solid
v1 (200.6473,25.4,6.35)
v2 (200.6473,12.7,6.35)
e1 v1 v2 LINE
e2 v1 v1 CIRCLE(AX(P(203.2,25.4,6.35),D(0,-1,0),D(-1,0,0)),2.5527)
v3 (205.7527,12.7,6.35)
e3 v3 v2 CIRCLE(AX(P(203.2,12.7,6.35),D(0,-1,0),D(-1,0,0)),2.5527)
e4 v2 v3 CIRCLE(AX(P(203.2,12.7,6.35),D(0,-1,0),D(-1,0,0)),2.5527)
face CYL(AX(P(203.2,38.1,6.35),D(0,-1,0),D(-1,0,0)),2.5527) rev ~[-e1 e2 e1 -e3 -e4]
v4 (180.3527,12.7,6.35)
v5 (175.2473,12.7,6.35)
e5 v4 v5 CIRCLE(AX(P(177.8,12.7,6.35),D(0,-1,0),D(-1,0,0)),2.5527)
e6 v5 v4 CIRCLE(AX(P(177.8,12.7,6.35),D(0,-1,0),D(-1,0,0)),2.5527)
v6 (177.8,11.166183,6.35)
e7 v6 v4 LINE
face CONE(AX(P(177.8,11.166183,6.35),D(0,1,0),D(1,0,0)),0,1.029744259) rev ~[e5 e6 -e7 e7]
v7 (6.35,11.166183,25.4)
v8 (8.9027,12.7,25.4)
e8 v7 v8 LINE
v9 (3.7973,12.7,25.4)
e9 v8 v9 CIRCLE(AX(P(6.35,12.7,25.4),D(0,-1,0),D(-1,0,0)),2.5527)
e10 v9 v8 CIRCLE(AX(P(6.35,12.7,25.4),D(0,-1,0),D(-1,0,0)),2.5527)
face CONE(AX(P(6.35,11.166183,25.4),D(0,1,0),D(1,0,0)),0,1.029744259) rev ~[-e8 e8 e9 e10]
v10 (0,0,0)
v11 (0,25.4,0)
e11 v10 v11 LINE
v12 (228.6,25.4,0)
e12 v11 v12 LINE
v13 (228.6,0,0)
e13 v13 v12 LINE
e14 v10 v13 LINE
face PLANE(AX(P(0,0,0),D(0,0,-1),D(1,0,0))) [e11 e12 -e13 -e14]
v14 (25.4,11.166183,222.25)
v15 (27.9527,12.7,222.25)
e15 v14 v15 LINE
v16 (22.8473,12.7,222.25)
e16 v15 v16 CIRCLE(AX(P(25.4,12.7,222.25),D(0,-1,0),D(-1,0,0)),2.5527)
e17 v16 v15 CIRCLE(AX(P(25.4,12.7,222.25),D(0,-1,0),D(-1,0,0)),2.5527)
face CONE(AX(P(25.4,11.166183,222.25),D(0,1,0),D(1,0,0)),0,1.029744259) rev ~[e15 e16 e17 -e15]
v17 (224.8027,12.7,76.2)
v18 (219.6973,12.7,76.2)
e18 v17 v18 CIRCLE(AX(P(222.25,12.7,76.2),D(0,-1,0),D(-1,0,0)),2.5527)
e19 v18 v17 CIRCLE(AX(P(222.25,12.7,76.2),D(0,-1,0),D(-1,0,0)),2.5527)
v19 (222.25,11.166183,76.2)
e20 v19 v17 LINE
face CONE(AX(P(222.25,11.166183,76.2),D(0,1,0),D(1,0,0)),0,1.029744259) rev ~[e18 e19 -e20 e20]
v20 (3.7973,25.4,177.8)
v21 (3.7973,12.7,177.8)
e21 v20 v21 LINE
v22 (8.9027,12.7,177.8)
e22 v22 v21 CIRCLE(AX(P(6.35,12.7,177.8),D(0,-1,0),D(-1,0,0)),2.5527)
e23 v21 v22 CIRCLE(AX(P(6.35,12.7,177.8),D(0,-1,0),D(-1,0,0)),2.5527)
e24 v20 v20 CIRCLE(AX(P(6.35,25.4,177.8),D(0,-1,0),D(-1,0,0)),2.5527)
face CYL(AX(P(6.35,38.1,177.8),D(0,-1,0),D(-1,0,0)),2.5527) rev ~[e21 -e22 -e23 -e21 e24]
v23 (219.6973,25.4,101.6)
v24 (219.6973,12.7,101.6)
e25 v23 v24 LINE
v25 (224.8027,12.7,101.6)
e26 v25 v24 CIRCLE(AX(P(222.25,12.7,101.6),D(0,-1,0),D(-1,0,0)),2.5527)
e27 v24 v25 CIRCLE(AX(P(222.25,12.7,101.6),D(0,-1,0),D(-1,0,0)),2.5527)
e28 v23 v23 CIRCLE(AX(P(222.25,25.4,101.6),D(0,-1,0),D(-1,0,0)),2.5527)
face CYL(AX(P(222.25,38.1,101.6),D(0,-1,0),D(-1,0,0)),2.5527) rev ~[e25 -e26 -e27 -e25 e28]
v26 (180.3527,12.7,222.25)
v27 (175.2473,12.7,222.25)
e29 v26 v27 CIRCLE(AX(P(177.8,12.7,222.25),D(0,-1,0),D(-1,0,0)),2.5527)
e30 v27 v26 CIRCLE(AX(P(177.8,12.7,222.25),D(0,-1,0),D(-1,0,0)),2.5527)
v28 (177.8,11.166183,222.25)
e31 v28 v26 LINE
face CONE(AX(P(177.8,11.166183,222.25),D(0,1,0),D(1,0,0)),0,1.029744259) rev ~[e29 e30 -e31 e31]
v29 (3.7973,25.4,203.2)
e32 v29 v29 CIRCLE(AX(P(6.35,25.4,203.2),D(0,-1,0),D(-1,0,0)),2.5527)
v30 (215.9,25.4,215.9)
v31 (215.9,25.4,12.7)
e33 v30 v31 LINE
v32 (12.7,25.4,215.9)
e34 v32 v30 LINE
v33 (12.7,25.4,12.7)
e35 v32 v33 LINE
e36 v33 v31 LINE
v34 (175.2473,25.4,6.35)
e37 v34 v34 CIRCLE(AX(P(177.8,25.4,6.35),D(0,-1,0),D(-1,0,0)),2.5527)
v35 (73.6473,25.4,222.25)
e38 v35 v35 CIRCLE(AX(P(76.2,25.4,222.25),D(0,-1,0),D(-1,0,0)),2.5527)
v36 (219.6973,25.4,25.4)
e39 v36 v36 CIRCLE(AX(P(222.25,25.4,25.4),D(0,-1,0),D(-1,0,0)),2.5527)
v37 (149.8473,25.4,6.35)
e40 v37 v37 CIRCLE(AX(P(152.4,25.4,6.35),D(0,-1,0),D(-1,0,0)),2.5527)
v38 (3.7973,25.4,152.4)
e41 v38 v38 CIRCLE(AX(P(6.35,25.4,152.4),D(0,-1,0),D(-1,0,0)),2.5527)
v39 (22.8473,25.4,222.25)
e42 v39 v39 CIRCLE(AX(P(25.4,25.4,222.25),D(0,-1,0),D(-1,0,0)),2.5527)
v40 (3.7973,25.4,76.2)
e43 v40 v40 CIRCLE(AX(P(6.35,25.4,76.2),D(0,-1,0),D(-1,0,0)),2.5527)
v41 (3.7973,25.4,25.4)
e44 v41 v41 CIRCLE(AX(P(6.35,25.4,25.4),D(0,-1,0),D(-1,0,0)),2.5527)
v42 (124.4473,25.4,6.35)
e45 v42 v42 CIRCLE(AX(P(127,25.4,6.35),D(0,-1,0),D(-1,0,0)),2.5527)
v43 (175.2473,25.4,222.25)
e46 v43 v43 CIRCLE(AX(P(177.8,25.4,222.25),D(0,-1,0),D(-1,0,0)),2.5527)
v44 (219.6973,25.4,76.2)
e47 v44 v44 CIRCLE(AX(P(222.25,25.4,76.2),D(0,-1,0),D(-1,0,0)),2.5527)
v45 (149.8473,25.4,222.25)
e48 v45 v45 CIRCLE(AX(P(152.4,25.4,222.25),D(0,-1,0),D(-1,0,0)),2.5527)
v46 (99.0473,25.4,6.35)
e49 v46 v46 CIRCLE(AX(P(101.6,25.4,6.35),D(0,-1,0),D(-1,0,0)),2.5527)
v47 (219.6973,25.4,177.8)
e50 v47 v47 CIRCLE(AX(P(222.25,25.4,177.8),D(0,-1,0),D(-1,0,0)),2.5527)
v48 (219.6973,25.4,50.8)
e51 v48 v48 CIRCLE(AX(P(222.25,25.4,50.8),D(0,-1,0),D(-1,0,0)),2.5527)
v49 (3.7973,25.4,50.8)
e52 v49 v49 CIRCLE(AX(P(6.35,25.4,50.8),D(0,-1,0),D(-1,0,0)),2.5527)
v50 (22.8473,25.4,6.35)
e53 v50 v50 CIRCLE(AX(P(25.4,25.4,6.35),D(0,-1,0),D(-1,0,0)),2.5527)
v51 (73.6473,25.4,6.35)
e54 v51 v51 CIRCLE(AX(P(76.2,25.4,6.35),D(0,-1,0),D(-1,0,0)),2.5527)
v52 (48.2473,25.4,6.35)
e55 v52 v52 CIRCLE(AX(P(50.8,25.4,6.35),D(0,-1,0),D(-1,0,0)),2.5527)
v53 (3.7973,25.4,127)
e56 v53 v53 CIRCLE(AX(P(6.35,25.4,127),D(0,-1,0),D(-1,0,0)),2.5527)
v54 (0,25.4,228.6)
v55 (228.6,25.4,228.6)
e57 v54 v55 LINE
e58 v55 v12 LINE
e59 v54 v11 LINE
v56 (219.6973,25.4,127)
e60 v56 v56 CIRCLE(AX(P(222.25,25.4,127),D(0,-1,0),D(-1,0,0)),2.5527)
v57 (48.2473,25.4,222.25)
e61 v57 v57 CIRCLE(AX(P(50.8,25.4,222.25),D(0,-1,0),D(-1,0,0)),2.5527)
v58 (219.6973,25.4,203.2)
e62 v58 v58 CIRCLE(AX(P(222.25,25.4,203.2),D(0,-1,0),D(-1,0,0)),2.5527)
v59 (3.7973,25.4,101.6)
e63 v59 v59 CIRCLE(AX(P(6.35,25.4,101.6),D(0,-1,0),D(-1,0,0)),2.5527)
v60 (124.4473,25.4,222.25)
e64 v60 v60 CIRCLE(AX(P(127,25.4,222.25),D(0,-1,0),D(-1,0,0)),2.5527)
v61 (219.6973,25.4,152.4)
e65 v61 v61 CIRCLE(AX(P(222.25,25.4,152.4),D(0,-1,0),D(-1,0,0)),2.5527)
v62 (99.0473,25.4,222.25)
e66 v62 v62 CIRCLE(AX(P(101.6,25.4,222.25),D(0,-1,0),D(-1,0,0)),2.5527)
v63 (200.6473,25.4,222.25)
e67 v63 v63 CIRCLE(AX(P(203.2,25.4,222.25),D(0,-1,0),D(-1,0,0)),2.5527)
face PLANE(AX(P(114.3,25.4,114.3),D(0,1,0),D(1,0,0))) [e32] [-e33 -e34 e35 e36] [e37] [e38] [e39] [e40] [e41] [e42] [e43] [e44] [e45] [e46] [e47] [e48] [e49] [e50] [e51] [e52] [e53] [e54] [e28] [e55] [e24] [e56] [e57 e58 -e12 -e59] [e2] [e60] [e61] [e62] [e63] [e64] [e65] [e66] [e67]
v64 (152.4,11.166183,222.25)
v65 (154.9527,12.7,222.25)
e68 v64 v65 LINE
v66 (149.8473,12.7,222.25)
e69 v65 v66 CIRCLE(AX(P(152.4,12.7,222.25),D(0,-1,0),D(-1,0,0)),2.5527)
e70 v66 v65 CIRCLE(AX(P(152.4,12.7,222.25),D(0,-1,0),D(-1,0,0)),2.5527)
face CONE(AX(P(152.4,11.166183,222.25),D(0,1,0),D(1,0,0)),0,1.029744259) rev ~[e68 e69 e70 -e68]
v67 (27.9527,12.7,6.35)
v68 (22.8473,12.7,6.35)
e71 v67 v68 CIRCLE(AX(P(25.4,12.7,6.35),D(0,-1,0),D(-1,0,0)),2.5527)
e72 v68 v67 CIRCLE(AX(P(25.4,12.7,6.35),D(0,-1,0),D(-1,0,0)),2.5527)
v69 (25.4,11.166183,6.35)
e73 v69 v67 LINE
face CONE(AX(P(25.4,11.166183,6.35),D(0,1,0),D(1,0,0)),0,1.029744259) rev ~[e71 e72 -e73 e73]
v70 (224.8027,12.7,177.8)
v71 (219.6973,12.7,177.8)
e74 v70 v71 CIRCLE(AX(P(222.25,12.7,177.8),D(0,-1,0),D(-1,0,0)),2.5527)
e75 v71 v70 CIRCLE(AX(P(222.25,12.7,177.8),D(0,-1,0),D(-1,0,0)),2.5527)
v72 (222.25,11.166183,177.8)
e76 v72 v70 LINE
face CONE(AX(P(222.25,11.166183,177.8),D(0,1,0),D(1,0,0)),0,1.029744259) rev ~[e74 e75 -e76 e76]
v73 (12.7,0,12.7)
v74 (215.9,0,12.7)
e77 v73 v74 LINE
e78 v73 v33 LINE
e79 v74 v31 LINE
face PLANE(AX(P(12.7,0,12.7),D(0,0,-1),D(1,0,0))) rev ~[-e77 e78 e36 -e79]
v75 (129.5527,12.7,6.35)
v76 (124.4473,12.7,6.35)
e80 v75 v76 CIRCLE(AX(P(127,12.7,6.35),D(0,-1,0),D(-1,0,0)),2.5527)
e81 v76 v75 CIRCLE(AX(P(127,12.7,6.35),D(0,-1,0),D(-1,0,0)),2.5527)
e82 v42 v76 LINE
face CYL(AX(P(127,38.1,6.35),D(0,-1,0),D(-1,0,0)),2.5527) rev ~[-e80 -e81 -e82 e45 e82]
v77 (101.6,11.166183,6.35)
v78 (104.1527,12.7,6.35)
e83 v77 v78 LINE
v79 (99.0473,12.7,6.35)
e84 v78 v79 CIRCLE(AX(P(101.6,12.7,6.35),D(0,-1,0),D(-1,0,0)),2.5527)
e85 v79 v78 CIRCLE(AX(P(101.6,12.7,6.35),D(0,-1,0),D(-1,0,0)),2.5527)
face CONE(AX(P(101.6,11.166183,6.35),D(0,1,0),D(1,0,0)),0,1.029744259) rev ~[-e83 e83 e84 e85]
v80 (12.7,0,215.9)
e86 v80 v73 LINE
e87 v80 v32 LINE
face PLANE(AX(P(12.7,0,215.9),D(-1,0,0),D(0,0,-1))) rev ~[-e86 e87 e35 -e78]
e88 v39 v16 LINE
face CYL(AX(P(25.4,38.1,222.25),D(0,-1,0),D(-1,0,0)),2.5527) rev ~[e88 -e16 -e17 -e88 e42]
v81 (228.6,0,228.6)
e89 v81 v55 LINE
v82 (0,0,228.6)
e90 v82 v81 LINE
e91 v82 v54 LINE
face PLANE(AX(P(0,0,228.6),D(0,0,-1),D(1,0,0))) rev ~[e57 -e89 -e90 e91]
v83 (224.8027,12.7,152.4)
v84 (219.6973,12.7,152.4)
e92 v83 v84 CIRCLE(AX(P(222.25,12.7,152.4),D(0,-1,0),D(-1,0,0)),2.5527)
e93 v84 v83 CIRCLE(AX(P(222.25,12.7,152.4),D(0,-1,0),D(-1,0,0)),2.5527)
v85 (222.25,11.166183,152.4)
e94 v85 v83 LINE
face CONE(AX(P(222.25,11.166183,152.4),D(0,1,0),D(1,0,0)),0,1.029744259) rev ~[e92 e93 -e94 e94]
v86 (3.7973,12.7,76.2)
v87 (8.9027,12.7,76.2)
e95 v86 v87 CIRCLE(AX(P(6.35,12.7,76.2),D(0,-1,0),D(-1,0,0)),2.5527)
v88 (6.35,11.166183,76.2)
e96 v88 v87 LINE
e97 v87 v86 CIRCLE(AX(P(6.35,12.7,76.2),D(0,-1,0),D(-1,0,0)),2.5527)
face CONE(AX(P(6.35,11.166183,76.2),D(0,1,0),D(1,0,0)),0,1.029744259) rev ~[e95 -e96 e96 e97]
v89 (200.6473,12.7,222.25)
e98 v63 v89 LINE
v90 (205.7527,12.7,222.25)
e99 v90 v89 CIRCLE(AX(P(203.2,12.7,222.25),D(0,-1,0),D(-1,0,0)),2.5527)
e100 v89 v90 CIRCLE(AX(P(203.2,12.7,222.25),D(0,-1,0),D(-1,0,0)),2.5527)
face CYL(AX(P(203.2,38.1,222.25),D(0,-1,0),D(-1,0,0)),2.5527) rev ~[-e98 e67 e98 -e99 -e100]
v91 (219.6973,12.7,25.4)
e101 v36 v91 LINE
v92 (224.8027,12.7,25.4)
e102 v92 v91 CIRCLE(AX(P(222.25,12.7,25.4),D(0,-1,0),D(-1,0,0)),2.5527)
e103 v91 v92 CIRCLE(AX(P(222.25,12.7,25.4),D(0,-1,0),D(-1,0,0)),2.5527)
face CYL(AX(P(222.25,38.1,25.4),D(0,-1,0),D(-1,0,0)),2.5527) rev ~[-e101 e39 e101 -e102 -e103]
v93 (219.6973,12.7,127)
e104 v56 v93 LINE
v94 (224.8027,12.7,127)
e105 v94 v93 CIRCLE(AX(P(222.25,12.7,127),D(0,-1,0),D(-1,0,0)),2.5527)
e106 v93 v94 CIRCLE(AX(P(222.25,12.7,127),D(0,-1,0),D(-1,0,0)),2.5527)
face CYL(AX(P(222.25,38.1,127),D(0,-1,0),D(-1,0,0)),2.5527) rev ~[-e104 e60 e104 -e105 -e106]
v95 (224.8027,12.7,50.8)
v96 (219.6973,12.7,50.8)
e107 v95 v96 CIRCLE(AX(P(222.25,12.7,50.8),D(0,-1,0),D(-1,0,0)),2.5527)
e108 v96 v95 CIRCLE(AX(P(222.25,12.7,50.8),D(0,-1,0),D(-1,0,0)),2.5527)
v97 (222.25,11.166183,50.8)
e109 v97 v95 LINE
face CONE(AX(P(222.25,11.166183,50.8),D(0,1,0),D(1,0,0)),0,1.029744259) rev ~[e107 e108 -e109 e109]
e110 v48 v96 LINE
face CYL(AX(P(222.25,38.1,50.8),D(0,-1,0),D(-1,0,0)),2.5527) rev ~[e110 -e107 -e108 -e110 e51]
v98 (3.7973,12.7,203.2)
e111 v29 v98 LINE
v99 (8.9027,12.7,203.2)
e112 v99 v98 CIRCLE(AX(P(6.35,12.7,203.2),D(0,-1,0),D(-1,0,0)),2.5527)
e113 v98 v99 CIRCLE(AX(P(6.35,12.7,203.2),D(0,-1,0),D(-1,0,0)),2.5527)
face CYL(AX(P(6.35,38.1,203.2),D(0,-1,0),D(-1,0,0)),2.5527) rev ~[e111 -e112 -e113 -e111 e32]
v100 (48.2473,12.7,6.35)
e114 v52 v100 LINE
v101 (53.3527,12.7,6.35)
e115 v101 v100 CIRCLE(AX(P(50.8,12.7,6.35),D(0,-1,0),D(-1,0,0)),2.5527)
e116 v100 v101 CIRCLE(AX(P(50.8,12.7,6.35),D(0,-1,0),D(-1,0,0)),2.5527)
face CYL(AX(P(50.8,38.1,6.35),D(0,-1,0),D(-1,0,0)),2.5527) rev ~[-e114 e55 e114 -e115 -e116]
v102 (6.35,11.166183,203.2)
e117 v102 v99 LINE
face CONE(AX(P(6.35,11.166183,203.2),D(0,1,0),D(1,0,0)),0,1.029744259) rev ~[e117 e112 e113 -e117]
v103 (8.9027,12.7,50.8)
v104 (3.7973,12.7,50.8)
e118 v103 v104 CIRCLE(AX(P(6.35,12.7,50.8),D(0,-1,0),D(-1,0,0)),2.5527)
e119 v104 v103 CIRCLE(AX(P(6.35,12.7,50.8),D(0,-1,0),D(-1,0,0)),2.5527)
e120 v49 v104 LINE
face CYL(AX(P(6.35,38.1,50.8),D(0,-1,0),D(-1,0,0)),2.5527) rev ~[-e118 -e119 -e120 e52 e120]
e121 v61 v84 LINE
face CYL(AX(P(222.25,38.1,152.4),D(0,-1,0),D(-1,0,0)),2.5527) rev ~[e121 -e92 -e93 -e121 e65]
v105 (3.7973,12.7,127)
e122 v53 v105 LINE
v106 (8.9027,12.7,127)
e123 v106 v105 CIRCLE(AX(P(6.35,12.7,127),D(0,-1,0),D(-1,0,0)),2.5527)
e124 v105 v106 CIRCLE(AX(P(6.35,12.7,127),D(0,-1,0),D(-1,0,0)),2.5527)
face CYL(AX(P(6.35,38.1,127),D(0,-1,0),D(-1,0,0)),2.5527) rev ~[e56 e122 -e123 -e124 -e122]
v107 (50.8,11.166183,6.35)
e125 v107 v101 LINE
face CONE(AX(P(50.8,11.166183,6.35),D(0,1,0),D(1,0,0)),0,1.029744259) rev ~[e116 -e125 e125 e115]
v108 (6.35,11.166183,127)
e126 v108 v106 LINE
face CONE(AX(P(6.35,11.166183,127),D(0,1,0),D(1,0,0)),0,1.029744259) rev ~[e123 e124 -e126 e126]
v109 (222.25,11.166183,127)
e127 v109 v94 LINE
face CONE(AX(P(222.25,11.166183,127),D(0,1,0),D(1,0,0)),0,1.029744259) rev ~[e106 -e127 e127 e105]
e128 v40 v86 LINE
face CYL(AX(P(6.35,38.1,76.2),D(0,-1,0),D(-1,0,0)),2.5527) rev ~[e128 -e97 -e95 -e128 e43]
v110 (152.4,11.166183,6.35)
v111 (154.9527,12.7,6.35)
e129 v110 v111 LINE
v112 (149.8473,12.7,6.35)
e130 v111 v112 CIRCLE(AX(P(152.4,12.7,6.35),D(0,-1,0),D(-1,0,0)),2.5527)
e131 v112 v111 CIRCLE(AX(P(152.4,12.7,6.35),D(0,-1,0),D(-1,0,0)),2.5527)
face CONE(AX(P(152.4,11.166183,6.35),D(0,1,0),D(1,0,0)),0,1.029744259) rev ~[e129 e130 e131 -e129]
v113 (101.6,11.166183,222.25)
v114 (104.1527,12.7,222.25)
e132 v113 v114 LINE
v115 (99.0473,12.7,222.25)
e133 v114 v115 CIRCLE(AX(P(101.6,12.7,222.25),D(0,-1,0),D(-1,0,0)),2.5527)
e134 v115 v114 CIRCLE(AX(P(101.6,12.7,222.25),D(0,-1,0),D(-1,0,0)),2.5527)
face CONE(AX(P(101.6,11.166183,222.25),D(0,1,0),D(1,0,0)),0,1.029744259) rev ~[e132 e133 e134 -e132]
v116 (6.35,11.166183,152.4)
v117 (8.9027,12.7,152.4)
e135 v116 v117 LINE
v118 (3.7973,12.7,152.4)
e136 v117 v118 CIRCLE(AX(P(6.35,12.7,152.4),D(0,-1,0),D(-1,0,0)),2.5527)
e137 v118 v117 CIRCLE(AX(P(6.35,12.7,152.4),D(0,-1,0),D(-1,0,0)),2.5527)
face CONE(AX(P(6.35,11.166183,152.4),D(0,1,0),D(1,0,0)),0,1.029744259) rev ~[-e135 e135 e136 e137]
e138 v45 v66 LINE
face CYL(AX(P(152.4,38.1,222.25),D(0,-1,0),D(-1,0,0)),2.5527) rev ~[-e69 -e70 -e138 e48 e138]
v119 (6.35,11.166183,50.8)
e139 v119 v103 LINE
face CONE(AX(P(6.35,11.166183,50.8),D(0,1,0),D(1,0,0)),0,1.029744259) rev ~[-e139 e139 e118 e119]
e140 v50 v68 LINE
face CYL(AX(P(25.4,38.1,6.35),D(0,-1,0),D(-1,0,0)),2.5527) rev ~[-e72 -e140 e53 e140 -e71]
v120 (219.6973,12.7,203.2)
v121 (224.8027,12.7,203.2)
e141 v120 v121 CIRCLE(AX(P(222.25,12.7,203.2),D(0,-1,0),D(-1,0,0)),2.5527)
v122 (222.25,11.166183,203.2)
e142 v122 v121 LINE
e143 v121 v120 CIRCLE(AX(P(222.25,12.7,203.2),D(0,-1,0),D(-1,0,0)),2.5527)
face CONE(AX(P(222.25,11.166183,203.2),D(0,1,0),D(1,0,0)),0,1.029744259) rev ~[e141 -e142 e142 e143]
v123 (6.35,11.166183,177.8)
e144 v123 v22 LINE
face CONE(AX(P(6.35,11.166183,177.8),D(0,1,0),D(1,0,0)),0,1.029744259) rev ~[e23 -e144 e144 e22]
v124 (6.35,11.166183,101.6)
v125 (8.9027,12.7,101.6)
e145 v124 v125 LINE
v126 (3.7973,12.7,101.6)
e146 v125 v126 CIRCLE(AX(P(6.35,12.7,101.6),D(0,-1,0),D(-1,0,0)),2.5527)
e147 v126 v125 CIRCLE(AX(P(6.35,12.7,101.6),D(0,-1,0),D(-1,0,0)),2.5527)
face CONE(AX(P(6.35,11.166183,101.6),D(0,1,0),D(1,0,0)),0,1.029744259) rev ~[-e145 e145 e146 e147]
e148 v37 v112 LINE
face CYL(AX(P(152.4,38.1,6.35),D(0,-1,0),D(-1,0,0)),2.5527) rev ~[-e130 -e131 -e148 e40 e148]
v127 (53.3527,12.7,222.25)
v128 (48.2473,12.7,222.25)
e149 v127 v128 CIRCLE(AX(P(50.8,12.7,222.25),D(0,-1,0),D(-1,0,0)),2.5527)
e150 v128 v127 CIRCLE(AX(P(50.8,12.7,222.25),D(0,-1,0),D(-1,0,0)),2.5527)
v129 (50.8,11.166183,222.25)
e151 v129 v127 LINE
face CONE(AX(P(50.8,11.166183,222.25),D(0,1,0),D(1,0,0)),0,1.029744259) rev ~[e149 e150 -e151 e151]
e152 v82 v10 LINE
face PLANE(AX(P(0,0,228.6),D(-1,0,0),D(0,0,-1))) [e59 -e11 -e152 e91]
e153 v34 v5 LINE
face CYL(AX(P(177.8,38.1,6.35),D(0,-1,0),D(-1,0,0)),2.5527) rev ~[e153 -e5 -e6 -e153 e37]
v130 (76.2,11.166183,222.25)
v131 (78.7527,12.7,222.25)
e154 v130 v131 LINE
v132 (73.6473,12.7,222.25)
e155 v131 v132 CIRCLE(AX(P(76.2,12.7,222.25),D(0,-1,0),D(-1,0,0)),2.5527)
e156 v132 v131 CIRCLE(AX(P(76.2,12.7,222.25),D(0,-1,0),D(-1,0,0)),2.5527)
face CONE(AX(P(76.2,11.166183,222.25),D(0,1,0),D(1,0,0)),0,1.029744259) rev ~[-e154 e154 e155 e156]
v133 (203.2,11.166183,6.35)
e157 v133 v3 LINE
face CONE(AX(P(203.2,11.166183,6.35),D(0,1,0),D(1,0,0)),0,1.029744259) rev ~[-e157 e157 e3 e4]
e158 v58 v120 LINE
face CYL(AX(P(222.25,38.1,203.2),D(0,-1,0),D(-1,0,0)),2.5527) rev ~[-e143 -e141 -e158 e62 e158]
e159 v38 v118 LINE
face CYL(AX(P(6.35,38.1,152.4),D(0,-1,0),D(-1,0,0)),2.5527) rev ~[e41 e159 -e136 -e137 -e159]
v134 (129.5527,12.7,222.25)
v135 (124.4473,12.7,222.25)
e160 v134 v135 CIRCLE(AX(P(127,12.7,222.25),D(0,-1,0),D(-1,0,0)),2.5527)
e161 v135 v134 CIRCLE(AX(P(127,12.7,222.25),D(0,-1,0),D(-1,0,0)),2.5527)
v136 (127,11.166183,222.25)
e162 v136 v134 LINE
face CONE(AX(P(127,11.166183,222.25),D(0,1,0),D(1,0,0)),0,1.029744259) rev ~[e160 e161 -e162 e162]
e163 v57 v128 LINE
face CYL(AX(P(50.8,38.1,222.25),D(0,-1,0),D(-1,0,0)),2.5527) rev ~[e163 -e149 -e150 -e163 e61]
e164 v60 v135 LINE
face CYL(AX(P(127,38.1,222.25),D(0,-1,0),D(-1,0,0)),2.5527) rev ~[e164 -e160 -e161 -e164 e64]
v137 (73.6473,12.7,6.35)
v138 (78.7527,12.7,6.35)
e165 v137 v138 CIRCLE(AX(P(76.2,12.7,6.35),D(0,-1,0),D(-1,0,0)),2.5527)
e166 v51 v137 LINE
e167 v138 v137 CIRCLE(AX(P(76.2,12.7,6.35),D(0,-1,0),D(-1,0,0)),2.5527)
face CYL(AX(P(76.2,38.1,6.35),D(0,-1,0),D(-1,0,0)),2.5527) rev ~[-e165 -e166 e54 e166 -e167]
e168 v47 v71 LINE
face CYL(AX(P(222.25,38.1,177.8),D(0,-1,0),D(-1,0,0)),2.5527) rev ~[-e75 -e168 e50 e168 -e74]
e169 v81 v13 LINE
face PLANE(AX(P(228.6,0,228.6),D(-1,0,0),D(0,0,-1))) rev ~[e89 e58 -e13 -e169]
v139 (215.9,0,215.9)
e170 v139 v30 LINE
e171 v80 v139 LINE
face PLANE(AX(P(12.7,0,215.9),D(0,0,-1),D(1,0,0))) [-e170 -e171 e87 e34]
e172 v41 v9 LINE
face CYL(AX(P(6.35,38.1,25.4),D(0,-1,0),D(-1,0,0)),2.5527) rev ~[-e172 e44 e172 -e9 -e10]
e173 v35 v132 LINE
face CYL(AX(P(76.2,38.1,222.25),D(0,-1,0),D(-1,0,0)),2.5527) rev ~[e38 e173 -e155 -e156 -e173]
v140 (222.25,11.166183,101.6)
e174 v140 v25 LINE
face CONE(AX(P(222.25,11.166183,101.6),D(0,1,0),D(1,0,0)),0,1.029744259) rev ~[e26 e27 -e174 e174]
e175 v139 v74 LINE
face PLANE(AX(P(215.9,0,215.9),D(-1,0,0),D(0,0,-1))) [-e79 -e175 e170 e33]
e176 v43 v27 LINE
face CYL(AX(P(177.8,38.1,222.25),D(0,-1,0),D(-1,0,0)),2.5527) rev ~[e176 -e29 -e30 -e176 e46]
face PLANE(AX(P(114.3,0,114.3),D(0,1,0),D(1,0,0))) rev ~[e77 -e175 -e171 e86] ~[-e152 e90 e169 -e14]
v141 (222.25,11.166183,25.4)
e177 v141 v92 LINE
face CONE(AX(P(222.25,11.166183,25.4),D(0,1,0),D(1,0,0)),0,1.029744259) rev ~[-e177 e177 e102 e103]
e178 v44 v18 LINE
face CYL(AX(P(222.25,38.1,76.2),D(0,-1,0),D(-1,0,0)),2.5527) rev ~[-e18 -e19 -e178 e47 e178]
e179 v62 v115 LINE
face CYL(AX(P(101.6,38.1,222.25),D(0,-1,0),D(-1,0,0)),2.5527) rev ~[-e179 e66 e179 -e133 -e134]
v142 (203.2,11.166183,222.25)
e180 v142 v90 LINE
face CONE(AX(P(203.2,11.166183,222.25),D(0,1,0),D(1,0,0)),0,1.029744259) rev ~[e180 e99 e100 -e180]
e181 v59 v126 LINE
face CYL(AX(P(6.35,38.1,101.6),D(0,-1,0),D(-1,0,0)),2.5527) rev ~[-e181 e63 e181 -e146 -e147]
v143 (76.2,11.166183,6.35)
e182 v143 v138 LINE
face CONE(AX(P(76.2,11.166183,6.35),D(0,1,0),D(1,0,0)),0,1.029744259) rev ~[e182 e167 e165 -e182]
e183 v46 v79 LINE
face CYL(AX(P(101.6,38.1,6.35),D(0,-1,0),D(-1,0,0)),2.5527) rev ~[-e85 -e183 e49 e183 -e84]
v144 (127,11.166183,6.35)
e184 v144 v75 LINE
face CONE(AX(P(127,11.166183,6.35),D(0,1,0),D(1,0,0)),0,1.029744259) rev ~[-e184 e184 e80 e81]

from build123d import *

# Parameters (mm, degrees)
SKETCH1_W                       = 228.6
SKETCH1_H                       = 228.6
SKETCH1_W_2                     = 203.2
SKETCH1_H_2                     = 203.2
BOSS_EXTRUDE1_DEPTH             = 25.4
TAP_DRILL_FOR_1_4_20_TAP1_D     = 5.1054
TAP_DRILL_FOR_1_4_20_TAP1_DEPTH = 12.7
TAP_DRILL_FOR_1_4_20_TAP1_TIP   = 1.533816902


with BuildPart() as part:
    # Sketch1 → Boss-Extrude1 (new body)
    with BuildSketch(Plane(origin=(0, 0, 0), x_dir=(1, 0, 0), z_dir=(0, 1, 0))):
        with Locations((114.3, -114.3)):
            Rectangle(SKETCH1_W, SKETCH1_H)
        with Locations((114.3, -114.3)):
            Rectangle(SKETCH1_W_2, SKETCH1_H_2, mode=Mode.SUBTRACT)
    extrude(amount=BOSS_EXTRUDE1_DEPTH)

    # Tap Drill for 1/4-20 Tap1
    with Locations(Plane(origin=(0, 25.4, 0), x_dir=(1, 0, 0), z_dir=(0, 1, 0))):
        with Locations((25.4, -6.35), (50.8, -6.35), (76.2, -6.35), (101.6, -6.35), (127, -6.35), (152.4, -6.35), (177.8, -6.35), (203.2, -6.35), (6.35, -25.4), (6.35, -50.8), (6.35, -76.2), (6.35, -101.6), (6.35, -127), (6.35, -152.4), (6.35, -177.8), (6.35, -203.2), (222.25, -25.4), (222.25, -50.8), (222.25, -76.2), (222.25, -101.6), (222.25, -127), (222.25, -152.4), (222.25, -177.8), (222.25, -203.2), (25.4, -222.25), (50.8, -222.25), (76.2, -222.25), (101.6, -222.25), (127, -222.25), (152.4, -222.25), (177.8, -222.25), (203.2, -222.25)):
            Hole(TAP_DRILL_FOR_1_4_20_TAP1_D / 2, depth=TAP_DRILL_FOR_1_4_20_TAP1_DEPTH)
            with Locations((0, 0, -(TAP_DRILL_FOR_1_4_20_TAP1_DEPTH + TAP_DRILL_FOR_1_4_20_TAP1_TIP / 2))):  # 118° drill point
                Cone(0, TAP_DRILL_FOR_1_4_20_TAP1_D / 2, TAP_DRILL_FOR_1_4_20_TAP1_TIP, mode=Mode.SUBTRACT)


solid = part.part
